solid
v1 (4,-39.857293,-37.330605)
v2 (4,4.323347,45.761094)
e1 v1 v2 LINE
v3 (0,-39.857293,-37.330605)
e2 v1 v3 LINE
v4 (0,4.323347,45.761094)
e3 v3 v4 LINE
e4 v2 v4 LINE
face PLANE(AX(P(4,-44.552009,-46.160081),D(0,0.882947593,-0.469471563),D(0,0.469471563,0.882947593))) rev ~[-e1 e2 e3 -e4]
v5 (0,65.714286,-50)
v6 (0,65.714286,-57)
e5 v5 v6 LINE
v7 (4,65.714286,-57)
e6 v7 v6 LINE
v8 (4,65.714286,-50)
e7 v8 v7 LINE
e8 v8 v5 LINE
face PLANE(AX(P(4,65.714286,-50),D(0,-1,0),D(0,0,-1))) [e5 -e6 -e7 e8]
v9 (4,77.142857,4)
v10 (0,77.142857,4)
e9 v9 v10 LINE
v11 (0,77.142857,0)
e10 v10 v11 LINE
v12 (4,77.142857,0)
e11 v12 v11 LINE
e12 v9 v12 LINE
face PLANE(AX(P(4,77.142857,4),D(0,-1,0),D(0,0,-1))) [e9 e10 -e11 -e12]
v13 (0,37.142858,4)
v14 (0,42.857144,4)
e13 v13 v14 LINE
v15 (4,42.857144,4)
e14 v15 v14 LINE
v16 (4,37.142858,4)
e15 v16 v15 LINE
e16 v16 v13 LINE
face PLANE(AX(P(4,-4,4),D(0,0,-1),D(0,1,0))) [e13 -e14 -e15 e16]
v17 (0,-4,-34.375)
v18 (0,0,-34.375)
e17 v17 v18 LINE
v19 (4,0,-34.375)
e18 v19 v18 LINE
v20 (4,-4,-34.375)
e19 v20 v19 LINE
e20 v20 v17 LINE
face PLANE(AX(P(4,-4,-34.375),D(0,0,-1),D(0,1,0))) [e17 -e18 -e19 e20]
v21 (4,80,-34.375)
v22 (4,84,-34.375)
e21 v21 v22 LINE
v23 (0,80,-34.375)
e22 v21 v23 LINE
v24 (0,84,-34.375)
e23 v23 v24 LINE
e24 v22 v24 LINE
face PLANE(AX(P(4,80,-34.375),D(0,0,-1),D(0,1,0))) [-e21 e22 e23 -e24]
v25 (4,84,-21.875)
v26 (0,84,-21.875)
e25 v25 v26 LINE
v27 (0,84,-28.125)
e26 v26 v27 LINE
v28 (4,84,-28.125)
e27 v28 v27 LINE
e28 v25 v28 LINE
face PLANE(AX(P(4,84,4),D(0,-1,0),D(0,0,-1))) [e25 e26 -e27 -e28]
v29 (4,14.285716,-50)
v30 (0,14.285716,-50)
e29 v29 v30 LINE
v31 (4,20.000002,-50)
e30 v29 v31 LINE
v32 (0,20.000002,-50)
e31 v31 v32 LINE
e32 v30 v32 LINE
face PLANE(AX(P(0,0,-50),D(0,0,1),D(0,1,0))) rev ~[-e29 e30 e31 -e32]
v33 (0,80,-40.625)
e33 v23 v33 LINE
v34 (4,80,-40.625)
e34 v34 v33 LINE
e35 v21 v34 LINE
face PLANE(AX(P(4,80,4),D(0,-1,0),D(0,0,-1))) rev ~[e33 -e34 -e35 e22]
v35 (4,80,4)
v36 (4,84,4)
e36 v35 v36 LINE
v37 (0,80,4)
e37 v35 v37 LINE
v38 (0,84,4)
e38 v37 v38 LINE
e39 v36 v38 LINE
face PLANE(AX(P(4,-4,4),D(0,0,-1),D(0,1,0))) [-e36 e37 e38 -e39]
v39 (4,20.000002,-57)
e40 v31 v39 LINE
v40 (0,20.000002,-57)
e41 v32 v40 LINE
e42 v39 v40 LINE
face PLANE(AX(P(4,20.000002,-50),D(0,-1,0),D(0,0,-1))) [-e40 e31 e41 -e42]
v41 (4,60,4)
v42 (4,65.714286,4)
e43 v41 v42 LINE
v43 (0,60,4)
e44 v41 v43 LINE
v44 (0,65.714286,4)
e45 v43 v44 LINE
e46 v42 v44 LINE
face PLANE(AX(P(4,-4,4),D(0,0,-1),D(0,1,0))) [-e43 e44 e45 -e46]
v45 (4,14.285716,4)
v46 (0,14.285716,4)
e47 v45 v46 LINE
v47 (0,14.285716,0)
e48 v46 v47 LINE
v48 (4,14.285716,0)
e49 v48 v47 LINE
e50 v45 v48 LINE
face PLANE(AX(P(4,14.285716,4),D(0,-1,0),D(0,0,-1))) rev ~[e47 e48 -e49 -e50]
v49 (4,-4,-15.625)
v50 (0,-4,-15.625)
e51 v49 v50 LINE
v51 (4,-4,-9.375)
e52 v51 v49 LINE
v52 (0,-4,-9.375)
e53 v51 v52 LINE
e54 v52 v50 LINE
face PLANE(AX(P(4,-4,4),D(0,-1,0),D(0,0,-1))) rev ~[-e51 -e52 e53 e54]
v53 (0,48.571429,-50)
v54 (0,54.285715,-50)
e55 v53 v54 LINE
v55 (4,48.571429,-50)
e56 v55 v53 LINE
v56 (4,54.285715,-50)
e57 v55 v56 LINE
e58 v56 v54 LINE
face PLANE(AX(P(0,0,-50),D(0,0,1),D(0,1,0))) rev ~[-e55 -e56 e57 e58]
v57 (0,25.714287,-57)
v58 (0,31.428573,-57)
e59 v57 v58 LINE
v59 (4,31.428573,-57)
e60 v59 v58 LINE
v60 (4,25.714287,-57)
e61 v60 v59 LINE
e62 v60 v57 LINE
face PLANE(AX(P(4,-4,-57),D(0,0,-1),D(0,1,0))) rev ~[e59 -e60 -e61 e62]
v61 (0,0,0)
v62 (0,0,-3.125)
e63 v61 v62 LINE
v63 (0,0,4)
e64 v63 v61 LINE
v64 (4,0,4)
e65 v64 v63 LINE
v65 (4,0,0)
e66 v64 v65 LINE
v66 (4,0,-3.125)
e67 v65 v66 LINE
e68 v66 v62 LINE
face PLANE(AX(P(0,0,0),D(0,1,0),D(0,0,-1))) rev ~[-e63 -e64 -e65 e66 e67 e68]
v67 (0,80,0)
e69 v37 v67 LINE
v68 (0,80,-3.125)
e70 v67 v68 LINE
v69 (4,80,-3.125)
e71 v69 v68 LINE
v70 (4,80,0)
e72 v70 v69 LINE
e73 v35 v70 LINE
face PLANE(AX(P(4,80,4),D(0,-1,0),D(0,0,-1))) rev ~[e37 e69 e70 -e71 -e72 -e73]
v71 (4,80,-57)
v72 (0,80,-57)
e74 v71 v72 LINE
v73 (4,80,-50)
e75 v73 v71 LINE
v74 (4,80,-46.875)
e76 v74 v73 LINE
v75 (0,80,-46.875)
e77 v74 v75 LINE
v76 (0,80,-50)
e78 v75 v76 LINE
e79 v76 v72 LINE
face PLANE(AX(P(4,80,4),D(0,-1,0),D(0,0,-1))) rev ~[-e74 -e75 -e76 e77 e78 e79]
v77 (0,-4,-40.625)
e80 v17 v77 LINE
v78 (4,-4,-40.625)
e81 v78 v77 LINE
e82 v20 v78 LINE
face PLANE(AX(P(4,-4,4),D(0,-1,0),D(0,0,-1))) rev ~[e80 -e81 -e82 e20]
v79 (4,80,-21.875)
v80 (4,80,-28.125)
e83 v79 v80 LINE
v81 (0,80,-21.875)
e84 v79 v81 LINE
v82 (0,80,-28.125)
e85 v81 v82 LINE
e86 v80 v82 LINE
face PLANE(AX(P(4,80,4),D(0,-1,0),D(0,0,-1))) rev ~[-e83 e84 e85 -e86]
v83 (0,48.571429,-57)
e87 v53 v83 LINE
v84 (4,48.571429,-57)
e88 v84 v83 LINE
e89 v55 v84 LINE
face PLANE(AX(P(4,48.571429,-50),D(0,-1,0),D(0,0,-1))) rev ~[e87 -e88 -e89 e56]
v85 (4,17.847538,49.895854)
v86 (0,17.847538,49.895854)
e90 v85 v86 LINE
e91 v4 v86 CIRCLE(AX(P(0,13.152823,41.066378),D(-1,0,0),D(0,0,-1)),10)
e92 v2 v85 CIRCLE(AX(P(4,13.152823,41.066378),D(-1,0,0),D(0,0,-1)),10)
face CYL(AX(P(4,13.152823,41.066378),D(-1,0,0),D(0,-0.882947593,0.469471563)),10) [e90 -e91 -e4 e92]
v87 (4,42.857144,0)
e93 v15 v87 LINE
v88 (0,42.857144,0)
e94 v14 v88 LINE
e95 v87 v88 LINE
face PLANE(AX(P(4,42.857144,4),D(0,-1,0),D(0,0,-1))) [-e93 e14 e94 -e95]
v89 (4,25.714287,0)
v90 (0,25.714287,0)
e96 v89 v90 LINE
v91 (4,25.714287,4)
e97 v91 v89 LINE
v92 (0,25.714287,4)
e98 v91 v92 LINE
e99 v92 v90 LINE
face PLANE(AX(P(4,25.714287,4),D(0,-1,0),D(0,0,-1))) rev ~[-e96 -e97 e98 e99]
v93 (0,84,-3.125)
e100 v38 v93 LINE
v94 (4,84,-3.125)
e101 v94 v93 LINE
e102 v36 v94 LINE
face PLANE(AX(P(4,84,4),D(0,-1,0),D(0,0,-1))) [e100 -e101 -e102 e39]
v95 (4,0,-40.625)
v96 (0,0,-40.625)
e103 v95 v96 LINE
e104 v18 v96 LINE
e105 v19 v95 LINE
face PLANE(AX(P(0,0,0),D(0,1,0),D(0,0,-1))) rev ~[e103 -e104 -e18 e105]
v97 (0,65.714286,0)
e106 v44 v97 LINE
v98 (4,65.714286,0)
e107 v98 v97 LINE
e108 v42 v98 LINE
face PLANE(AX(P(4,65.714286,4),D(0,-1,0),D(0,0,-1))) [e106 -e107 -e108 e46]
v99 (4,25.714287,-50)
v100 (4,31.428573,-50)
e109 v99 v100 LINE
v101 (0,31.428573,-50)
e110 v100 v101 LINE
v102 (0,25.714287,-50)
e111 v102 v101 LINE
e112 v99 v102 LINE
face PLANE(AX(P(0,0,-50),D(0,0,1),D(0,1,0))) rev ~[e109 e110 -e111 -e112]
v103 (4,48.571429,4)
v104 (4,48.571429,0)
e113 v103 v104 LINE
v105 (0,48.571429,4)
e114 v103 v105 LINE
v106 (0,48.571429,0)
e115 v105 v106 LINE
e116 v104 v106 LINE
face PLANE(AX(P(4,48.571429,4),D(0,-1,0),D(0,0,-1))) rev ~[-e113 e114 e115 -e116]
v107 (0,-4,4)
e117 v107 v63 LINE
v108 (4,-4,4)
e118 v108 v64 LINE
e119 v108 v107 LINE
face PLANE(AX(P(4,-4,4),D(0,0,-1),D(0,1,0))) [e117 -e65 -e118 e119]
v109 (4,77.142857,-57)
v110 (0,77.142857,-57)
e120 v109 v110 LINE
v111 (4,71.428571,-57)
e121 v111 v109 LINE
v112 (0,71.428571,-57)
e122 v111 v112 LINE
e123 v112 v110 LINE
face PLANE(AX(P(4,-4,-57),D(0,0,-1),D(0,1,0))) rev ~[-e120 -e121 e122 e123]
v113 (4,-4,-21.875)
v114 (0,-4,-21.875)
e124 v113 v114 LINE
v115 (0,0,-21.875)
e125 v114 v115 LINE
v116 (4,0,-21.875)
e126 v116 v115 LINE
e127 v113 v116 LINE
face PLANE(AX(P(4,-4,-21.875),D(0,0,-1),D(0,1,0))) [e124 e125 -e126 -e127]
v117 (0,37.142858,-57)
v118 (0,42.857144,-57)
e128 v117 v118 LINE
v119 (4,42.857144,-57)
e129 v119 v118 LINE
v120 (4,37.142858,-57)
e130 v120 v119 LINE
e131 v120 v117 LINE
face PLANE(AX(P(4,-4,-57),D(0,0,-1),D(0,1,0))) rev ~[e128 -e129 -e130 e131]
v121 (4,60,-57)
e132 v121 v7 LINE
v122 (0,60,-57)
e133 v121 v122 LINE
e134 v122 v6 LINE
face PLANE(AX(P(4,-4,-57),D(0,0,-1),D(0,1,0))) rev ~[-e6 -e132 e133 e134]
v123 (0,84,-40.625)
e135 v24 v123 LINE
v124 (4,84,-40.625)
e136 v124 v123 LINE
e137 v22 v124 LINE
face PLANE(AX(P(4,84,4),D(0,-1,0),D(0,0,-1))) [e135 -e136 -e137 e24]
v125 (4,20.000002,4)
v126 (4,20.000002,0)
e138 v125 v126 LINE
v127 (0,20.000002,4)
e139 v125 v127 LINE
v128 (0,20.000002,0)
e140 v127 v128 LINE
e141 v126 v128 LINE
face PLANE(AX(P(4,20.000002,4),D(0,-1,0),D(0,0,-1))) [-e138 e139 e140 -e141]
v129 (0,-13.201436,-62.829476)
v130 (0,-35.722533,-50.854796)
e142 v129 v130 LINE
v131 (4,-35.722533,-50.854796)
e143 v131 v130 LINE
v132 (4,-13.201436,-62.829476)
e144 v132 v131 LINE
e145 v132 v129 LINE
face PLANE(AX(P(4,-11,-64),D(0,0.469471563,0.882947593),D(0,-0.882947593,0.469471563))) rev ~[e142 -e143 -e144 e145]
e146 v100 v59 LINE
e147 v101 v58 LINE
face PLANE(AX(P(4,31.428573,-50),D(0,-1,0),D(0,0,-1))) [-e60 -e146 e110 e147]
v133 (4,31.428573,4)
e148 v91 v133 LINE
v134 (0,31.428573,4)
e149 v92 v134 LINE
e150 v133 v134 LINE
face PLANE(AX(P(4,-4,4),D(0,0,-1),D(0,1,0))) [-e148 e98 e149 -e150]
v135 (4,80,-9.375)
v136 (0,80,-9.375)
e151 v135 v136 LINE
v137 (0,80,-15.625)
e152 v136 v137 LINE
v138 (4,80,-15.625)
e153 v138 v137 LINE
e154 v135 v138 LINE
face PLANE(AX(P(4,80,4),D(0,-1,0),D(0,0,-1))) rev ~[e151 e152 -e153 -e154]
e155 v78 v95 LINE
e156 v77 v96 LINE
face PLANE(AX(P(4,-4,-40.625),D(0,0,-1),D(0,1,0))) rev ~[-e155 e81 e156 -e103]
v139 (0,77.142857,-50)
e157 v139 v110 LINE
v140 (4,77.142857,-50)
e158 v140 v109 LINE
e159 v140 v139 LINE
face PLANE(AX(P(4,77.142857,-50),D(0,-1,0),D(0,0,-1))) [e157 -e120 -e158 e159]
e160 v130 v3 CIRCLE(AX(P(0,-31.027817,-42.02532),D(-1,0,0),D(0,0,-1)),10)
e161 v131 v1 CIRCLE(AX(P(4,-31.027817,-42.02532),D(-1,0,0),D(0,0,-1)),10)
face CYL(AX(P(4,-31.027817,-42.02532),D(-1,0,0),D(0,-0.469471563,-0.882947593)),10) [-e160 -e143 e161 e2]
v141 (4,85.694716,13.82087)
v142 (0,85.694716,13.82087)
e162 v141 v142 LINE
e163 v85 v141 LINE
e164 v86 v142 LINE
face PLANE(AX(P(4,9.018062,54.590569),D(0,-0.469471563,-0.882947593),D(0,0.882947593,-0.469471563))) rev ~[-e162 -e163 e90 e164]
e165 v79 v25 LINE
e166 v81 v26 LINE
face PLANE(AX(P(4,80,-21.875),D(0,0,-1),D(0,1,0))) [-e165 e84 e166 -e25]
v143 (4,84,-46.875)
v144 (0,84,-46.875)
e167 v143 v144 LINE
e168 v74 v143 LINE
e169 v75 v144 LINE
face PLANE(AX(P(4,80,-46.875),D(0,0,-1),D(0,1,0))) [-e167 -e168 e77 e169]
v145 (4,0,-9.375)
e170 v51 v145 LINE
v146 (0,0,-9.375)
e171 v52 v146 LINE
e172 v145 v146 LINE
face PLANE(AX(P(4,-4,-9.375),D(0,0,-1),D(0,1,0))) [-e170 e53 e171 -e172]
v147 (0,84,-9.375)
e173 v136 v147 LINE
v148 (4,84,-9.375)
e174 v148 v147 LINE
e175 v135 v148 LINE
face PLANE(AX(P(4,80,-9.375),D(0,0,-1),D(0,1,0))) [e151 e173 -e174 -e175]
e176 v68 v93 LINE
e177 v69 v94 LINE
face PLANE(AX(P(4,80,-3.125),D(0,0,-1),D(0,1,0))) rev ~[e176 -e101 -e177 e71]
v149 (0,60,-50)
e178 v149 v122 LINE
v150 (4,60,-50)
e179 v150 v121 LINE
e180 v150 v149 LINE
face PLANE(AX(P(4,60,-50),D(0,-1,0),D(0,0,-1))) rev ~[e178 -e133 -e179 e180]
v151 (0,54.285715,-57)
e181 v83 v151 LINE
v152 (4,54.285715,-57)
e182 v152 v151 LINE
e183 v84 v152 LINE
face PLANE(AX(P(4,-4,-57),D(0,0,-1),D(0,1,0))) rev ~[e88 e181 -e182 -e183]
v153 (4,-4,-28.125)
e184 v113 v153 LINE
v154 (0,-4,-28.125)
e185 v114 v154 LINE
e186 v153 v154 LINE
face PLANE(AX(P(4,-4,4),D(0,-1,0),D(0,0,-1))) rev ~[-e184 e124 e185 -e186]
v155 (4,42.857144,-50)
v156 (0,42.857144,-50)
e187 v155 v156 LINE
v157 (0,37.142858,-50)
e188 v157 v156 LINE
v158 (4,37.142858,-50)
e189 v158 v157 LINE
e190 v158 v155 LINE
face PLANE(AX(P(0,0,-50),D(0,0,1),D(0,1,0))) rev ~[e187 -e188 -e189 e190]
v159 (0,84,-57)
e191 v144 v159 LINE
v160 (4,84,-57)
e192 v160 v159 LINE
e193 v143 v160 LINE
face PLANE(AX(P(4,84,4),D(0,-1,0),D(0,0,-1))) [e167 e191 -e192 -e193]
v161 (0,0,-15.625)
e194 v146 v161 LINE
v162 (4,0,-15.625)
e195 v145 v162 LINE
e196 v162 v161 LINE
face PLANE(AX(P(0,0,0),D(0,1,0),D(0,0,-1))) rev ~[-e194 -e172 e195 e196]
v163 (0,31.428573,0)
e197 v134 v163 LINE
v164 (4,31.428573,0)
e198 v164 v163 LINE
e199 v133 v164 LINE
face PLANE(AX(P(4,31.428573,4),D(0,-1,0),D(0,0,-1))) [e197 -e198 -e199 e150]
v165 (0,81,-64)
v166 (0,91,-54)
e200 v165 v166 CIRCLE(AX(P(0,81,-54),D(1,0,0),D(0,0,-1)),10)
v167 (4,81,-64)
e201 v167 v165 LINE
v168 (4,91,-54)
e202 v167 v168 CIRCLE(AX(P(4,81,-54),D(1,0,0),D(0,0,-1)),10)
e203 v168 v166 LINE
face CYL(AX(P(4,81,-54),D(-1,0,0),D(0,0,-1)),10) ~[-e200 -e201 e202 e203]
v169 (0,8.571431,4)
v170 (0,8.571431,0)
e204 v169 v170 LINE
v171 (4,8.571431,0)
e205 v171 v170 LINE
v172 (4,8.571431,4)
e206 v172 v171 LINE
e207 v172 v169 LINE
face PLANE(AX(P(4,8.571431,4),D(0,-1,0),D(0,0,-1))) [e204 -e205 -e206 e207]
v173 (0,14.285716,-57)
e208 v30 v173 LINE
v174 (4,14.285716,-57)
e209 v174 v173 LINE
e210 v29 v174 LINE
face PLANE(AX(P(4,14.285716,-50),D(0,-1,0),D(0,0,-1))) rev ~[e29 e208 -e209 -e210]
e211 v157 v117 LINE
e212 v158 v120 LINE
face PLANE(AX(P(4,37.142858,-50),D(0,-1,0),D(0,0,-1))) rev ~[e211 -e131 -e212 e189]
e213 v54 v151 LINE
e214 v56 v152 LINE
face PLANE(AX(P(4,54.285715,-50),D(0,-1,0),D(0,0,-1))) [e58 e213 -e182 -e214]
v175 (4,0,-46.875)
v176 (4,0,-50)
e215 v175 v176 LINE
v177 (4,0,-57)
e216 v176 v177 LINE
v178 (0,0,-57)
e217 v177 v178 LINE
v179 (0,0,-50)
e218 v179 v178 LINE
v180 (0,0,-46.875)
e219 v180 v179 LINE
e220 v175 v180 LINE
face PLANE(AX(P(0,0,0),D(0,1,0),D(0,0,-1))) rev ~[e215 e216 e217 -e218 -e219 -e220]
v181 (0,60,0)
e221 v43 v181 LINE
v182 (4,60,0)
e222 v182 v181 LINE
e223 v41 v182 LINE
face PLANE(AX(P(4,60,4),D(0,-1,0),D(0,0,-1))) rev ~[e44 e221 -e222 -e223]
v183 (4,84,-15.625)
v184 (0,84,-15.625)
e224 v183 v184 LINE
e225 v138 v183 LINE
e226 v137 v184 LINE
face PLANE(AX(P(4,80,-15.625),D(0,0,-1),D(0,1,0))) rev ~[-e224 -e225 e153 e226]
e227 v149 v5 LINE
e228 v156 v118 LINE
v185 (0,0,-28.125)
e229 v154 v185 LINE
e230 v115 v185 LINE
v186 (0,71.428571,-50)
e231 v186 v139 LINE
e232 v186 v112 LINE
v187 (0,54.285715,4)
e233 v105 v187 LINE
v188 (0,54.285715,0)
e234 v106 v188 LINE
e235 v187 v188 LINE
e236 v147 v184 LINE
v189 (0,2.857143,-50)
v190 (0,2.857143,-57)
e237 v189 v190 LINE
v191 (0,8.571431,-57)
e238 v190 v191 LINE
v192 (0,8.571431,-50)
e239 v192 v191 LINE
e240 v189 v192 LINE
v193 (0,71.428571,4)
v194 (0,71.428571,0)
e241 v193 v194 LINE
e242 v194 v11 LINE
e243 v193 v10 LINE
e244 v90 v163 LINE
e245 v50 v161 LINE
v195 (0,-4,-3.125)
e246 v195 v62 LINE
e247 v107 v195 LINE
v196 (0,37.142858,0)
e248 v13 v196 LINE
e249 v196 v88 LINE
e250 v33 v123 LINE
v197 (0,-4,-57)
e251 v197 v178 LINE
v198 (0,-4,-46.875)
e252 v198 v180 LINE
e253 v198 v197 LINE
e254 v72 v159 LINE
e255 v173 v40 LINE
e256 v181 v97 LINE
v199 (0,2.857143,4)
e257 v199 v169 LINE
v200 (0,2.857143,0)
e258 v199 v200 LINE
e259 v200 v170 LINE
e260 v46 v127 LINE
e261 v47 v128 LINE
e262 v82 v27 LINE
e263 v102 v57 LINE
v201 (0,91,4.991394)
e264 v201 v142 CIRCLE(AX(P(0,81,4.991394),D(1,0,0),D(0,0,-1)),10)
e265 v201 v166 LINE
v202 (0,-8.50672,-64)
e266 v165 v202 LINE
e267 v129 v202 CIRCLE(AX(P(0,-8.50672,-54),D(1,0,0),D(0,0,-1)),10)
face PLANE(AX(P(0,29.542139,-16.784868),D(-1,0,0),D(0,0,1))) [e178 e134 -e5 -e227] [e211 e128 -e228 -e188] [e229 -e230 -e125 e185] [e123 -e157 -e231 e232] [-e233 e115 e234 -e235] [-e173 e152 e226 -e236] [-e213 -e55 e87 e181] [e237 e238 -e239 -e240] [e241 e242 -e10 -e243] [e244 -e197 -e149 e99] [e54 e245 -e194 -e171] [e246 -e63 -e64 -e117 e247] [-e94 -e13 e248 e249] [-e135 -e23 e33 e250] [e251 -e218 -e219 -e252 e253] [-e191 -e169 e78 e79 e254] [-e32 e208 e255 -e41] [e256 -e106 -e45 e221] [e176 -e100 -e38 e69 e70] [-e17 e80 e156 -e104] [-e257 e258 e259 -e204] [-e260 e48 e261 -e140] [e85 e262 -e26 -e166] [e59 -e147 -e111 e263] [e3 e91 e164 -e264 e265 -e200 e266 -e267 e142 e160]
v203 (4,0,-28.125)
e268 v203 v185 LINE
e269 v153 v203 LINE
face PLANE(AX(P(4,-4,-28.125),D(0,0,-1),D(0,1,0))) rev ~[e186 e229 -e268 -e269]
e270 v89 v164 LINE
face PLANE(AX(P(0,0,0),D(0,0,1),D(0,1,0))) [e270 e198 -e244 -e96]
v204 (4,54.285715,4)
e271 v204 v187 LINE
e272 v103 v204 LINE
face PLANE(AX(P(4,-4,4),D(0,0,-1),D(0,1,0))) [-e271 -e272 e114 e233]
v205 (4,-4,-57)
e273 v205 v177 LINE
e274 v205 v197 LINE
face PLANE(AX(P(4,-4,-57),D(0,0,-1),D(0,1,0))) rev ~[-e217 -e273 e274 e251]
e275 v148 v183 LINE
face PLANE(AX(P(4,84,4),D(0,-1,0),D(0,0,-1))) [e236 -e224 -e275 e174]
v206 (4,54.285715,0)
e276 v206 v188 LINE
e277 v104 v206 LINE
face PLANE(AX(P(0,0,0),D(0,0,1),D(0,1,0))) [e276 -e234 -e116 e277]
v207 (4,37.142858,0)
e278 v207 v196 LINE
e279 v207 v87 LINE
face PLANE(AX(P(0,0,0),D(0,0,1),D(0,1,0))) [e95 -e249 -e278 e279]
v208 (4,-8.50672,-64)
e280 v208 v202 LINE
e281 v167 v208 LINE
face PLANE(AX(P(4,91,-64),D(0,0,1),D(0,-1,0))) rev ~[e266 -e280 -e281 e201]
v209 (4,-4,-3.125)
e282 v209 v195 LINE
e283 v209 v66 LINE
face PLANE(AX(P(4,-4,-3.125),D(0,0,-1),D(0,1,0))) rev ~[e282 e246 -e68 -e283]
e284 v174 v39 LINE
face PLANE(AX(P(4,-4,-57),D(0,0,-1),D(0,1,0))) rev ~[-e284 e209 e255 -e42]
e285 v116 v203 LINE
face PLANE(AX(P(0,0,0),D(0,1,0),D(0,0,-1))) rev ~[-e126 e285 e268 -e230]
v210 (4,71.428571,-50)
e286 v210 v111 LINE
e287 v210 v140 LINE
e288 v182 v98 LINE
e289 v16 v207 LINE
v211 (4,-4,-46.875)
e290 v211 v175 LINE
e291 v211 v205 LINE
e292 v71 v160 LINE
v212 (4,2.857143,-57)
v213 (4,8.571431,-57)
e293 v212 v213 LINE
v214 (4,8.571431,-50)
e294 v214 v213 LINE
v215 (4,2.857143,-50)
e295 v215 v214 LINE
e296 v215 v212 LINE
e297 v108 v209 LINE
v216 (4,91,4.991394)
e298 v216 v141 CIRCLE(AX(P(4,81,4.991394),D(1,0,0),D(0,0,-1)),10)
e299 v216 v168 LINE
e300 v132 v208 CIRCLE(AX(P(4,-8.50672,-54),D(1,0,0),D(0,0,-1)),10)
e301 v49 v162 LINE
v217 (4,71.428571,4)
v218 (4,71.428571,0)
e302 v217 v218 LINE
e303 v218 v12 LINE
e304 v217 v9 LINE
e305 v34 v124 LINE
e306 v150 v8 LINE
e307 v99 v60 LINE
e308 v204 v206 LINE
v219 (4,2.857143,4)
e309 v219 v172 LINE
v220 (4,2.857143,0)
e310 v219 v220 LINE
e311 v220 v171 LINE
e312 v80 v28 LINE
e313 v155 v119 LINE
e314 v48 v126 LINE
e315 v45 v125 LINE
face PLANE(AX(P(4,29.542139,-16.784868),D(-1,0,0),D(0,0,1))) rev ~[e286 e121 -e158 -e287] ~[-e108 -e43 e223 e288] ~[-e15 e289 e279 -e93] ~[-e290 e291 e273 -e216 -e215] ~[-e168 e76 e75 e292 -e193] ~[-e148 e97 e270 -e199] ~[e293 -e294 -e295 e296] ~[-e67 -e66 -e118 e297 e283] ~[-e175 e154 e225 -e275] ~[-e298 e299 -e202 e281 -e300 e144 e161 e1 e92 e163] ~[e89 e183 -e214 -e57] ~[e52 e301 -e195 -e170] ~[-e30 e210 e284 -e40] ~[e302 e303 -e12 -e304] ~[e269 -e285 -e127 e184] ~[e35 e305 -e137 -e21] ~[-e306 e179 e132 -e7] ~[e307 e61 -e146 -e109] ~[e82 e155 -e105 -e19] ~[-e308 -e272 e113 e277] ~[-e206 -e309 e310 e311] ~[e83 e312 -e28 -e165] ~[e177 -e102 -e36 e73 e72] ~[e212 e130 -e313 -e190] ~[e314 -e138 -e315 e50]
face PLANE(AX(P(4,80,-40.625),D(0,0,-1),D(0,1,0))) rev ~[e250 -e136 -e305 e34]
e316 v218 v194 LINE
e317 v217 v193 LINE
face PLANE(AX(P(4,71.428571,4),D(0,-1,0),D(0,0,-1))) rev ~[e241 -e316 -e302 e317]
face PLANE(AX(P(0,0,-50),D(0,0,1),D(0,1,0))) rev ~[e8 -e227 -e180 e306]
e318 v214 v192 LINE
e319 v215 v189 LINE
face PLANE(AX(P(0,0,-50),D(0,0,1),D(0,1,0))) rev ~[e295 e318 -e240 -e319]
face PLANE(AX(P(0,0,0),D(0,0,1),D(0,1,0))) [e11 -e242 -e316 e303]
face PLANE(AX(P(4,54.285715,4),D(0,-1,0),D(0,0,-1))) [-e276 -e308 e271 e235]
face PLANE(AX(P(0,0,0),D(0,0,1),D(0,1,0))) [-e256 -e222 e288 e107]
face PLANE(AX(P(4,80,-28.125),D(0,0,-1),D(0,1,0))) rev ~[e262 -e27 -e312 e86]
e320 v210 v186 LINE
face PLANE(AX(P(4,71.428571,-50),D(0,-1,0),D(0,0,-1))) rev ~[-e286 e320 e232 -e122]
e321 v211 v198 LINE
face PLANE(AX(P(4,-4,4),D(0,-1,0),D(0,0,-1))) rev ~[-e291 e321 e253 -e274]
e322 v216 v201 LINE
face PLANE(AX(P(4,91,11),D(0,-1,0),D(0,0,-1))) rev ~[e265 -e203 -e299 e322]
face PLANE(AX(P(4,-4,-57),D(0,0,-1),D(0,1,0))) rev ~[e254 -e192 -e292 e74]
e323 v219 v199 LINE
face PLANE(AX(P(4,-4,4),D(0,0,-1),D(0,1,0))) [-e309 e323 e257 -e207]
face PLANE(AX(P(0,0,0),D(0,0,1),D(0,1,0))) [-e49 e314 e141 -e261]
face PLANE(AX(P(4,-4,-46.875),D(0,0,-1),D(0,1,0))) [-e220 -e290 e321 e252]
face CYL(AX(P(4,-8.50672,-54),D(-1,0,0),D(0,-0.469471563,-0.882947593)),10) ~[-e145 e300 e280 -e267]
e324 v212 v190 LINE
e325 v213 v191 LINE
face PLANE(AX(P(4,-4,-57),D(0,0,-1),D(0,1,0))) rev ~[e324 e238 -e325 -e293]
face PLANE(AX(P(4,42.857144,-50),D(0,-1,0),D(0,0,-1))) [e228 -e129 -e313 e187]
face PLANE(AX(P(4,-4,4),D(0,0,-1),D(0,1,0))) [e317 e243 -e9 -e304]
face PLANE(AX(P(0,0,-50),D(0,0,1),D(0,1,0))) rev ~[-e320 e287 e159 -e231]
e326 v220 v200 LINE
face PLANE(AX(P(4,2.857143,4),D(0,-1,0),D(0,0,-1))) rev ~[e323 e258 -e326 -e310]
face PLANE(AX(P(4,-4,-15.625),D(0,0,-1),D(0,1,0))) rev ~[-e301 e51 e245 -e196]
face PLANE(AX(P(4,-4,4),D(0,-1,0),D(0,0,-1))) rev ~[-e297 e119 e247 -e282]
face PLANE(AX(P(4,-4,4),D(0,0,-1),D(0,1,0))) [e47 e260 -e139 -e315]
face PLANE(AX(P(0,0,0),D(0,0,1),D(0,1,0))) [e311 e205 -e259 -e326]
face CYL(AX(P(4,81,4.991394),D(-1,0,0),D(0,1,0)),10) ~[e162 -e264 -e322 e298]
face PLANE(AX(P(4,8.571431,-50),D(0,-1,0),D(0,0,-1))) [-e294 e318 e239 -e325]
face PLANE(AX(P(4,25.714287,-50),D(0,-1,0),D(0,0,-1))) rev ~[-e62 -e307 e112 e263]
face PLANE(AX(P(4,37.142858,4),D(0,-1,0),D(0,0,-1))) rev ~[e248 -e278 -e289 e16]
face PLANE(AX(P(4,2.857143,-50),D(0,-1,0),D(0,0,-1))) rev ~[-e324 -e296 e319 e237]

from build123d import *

# Parameters (mm, degrees)
SCHIZZO1_W                   = 50
SCHIZZO1_H                   = 80
ESTRUSIONE_ESTRUSIONE1_DEPTH = 4
SCHIZZO2_W                   = 4
SCHIZZO2_H                   = 2.857142857
SCHIZZO2_W_2                 = 7
ESTRUSIONE_ESTRUSIONE2_DEPTH = 4
SCHIZZO3_W                   = 4
SCHIZZO3_H                   = 5.714285715
SCHIZZO3_W_2                 = 7
ESTRUSIONE_ESTRUSIONE3_DEPTH = 4
RIPETIZIONE_A_L1_COUNT       = 6
RIPETIZIONE_A_L1_PITCH       = 11.428571
SCHIZZO4_W                   = 6.25
SCHIZZO4_H                   = 4
ESTRUSIONE_ESTRUSIONE4_DEPTH = 4
RIPETIZIONE_A_L2_COUNT       = 4
RIPETIZIONE_A_L2_PITCH       = 12.5
SCHIZZO5_W                   = 61
SCHIZZO5_H                   = 88
ESTRUSIONE_ESTRUSIONE5_DEPTH = 4
RACCORDO1_R                  = 10
RACCORDO2_R                  = 10


with BuildPart() as part:
    # Schizzo1 → Estrusione-Estrusione1 (new body)
    with BuildSketch(Plane(origin=(0, 0, 0), x_dir=(0, 0, -1), z_dir=(1, 0, 0))):
        with Locations((25, 40)):
            Rectangle(SCHIZZO1_W, SCHIZZO1_H)
    extrude(amount=ESTRUSIONE_ESTRUSIONE1_DEPTH)

    # Schizzo2 → Estrusione-Estrusione2 (add)
    with BuildSketch(Plane(origin=(4, 0, 0), x_dir=(0, 0, -1), z_dir=(1, 0, 0))):
        with Locations((-2, 78.571428572)):
            Rectangle(SCHIZZO2_W, SCHIZZO2_H)
        with Locations((53.5, 78.571428572)):
            Rectangle(SCHIZZO2_W_2, SCHIZZO2_H)
        with Locations((53.5, 1.428571429)):
            Rectangle(SCHIZZO2_W_2, SCHIZZO2_H)
        with Locations((-2, 1.428571429)):
            Rectangle(SCHIZZO2_W, SCHIZZO2_H)
    extrude(amount=-ESTRUSIONE_ESTRUSIONE2_DEPTH)

    # Schizzo3 → Estrusione-Estrusione3 (add)
    with BuildSketch(Plane(origin=(4, 0, 0), x_dir=(0, 0, -1), z_dir=(1, 0, 0))):
        with Locations((-2, 68.571428572)):
            Rectangle(SCHIZZO3_W, SCHIZZO3_H)
        with Locations((53.5, 68.571428572)):
            Rectangle(SCHIZZO3_W_2, SCHIZZO3_H)
    estrusione_estrusione3 = extrude(amount=-ESTRUSIONE_ESTRUSIONE3_DEPTH)

    # Ripetizione a L1: Estrusione-Estrusione3 ×6
    with Locations(*[(0, -i * RIPETIZIONE_A_L1_PITCH, 0) for i in range(1, RIPETIZIONE_A_L1_COUNT)]):
        add(estrusione_estrusione3)

    # Schizzo4 → Estrusione-Estrusione4 (add)
    with BuildSketch(Plane(origin=(4, 0, 0), x_dir=(0, 0, -1), z_dir=(1, 0, 0))):
        with Locations((6.25, 82)):
            Rectangle(SCHIZZO4_W, SCHIZZO4_H)
        with Locations((6.25, -2)):
            Rectangle(SCHIZZO4_W, SCHIZZO4_H)
    estrusione_estrusione4 = extrude(amount=-ESTRUSIONE_ESTRUSIONE4_DEPTH)

    # Ripetizione a L2: Estrusione-Estrusione4 ×4
    with Locations(*[(0, 0, -i * RIPETIZIONE_A_L2_PITCH) for i in range(1, RIPETIZIONE_A_L2_COUNT)]):
        add(estrusione_estrusione4)

    # Schizzo5 → Estrusione-Estrusione5 (add)
    with BuildSketch(Plane(origin=(4, 0, 0), x_dir=(0, 0, -1), z_dir=(1, 0, 0))):
        Polygon((64, -11), (46.160080614, -44.552008529), (-54.590569466, 9.018062365), (-11, 91), (64, 91), align=None)
        with Locations((26.5, 40)):
            Rectangle(SCHIZZO5_W, SCHIZZO5_H, mode=Mode.SUBTRACT)
    extrude(amount=-ESTRUSIONE_ESTRUSIONE5_DEPTH)

    # Raccordo1
    raccordo1_edges = [part.edges().sort_by_distance(p)[0] for p in [
        (2, -44.552008529, -46.160080614),
        (2, 9.018062365, 54.590569466),
    ]]
    fillet(raccordo1_edges, radius=RACCORDO1_R)

    # Raccordo2
    raccordo2_edges = [part.edges().sort_by_distance(p)[0] for p in [
        (2, 91, -64),
        (2, -11, -64),
        (2, 91, 11),
    ]]
    fillet(raccordo2_edges, radius=RACCORDO2_R)


solid = part.part
